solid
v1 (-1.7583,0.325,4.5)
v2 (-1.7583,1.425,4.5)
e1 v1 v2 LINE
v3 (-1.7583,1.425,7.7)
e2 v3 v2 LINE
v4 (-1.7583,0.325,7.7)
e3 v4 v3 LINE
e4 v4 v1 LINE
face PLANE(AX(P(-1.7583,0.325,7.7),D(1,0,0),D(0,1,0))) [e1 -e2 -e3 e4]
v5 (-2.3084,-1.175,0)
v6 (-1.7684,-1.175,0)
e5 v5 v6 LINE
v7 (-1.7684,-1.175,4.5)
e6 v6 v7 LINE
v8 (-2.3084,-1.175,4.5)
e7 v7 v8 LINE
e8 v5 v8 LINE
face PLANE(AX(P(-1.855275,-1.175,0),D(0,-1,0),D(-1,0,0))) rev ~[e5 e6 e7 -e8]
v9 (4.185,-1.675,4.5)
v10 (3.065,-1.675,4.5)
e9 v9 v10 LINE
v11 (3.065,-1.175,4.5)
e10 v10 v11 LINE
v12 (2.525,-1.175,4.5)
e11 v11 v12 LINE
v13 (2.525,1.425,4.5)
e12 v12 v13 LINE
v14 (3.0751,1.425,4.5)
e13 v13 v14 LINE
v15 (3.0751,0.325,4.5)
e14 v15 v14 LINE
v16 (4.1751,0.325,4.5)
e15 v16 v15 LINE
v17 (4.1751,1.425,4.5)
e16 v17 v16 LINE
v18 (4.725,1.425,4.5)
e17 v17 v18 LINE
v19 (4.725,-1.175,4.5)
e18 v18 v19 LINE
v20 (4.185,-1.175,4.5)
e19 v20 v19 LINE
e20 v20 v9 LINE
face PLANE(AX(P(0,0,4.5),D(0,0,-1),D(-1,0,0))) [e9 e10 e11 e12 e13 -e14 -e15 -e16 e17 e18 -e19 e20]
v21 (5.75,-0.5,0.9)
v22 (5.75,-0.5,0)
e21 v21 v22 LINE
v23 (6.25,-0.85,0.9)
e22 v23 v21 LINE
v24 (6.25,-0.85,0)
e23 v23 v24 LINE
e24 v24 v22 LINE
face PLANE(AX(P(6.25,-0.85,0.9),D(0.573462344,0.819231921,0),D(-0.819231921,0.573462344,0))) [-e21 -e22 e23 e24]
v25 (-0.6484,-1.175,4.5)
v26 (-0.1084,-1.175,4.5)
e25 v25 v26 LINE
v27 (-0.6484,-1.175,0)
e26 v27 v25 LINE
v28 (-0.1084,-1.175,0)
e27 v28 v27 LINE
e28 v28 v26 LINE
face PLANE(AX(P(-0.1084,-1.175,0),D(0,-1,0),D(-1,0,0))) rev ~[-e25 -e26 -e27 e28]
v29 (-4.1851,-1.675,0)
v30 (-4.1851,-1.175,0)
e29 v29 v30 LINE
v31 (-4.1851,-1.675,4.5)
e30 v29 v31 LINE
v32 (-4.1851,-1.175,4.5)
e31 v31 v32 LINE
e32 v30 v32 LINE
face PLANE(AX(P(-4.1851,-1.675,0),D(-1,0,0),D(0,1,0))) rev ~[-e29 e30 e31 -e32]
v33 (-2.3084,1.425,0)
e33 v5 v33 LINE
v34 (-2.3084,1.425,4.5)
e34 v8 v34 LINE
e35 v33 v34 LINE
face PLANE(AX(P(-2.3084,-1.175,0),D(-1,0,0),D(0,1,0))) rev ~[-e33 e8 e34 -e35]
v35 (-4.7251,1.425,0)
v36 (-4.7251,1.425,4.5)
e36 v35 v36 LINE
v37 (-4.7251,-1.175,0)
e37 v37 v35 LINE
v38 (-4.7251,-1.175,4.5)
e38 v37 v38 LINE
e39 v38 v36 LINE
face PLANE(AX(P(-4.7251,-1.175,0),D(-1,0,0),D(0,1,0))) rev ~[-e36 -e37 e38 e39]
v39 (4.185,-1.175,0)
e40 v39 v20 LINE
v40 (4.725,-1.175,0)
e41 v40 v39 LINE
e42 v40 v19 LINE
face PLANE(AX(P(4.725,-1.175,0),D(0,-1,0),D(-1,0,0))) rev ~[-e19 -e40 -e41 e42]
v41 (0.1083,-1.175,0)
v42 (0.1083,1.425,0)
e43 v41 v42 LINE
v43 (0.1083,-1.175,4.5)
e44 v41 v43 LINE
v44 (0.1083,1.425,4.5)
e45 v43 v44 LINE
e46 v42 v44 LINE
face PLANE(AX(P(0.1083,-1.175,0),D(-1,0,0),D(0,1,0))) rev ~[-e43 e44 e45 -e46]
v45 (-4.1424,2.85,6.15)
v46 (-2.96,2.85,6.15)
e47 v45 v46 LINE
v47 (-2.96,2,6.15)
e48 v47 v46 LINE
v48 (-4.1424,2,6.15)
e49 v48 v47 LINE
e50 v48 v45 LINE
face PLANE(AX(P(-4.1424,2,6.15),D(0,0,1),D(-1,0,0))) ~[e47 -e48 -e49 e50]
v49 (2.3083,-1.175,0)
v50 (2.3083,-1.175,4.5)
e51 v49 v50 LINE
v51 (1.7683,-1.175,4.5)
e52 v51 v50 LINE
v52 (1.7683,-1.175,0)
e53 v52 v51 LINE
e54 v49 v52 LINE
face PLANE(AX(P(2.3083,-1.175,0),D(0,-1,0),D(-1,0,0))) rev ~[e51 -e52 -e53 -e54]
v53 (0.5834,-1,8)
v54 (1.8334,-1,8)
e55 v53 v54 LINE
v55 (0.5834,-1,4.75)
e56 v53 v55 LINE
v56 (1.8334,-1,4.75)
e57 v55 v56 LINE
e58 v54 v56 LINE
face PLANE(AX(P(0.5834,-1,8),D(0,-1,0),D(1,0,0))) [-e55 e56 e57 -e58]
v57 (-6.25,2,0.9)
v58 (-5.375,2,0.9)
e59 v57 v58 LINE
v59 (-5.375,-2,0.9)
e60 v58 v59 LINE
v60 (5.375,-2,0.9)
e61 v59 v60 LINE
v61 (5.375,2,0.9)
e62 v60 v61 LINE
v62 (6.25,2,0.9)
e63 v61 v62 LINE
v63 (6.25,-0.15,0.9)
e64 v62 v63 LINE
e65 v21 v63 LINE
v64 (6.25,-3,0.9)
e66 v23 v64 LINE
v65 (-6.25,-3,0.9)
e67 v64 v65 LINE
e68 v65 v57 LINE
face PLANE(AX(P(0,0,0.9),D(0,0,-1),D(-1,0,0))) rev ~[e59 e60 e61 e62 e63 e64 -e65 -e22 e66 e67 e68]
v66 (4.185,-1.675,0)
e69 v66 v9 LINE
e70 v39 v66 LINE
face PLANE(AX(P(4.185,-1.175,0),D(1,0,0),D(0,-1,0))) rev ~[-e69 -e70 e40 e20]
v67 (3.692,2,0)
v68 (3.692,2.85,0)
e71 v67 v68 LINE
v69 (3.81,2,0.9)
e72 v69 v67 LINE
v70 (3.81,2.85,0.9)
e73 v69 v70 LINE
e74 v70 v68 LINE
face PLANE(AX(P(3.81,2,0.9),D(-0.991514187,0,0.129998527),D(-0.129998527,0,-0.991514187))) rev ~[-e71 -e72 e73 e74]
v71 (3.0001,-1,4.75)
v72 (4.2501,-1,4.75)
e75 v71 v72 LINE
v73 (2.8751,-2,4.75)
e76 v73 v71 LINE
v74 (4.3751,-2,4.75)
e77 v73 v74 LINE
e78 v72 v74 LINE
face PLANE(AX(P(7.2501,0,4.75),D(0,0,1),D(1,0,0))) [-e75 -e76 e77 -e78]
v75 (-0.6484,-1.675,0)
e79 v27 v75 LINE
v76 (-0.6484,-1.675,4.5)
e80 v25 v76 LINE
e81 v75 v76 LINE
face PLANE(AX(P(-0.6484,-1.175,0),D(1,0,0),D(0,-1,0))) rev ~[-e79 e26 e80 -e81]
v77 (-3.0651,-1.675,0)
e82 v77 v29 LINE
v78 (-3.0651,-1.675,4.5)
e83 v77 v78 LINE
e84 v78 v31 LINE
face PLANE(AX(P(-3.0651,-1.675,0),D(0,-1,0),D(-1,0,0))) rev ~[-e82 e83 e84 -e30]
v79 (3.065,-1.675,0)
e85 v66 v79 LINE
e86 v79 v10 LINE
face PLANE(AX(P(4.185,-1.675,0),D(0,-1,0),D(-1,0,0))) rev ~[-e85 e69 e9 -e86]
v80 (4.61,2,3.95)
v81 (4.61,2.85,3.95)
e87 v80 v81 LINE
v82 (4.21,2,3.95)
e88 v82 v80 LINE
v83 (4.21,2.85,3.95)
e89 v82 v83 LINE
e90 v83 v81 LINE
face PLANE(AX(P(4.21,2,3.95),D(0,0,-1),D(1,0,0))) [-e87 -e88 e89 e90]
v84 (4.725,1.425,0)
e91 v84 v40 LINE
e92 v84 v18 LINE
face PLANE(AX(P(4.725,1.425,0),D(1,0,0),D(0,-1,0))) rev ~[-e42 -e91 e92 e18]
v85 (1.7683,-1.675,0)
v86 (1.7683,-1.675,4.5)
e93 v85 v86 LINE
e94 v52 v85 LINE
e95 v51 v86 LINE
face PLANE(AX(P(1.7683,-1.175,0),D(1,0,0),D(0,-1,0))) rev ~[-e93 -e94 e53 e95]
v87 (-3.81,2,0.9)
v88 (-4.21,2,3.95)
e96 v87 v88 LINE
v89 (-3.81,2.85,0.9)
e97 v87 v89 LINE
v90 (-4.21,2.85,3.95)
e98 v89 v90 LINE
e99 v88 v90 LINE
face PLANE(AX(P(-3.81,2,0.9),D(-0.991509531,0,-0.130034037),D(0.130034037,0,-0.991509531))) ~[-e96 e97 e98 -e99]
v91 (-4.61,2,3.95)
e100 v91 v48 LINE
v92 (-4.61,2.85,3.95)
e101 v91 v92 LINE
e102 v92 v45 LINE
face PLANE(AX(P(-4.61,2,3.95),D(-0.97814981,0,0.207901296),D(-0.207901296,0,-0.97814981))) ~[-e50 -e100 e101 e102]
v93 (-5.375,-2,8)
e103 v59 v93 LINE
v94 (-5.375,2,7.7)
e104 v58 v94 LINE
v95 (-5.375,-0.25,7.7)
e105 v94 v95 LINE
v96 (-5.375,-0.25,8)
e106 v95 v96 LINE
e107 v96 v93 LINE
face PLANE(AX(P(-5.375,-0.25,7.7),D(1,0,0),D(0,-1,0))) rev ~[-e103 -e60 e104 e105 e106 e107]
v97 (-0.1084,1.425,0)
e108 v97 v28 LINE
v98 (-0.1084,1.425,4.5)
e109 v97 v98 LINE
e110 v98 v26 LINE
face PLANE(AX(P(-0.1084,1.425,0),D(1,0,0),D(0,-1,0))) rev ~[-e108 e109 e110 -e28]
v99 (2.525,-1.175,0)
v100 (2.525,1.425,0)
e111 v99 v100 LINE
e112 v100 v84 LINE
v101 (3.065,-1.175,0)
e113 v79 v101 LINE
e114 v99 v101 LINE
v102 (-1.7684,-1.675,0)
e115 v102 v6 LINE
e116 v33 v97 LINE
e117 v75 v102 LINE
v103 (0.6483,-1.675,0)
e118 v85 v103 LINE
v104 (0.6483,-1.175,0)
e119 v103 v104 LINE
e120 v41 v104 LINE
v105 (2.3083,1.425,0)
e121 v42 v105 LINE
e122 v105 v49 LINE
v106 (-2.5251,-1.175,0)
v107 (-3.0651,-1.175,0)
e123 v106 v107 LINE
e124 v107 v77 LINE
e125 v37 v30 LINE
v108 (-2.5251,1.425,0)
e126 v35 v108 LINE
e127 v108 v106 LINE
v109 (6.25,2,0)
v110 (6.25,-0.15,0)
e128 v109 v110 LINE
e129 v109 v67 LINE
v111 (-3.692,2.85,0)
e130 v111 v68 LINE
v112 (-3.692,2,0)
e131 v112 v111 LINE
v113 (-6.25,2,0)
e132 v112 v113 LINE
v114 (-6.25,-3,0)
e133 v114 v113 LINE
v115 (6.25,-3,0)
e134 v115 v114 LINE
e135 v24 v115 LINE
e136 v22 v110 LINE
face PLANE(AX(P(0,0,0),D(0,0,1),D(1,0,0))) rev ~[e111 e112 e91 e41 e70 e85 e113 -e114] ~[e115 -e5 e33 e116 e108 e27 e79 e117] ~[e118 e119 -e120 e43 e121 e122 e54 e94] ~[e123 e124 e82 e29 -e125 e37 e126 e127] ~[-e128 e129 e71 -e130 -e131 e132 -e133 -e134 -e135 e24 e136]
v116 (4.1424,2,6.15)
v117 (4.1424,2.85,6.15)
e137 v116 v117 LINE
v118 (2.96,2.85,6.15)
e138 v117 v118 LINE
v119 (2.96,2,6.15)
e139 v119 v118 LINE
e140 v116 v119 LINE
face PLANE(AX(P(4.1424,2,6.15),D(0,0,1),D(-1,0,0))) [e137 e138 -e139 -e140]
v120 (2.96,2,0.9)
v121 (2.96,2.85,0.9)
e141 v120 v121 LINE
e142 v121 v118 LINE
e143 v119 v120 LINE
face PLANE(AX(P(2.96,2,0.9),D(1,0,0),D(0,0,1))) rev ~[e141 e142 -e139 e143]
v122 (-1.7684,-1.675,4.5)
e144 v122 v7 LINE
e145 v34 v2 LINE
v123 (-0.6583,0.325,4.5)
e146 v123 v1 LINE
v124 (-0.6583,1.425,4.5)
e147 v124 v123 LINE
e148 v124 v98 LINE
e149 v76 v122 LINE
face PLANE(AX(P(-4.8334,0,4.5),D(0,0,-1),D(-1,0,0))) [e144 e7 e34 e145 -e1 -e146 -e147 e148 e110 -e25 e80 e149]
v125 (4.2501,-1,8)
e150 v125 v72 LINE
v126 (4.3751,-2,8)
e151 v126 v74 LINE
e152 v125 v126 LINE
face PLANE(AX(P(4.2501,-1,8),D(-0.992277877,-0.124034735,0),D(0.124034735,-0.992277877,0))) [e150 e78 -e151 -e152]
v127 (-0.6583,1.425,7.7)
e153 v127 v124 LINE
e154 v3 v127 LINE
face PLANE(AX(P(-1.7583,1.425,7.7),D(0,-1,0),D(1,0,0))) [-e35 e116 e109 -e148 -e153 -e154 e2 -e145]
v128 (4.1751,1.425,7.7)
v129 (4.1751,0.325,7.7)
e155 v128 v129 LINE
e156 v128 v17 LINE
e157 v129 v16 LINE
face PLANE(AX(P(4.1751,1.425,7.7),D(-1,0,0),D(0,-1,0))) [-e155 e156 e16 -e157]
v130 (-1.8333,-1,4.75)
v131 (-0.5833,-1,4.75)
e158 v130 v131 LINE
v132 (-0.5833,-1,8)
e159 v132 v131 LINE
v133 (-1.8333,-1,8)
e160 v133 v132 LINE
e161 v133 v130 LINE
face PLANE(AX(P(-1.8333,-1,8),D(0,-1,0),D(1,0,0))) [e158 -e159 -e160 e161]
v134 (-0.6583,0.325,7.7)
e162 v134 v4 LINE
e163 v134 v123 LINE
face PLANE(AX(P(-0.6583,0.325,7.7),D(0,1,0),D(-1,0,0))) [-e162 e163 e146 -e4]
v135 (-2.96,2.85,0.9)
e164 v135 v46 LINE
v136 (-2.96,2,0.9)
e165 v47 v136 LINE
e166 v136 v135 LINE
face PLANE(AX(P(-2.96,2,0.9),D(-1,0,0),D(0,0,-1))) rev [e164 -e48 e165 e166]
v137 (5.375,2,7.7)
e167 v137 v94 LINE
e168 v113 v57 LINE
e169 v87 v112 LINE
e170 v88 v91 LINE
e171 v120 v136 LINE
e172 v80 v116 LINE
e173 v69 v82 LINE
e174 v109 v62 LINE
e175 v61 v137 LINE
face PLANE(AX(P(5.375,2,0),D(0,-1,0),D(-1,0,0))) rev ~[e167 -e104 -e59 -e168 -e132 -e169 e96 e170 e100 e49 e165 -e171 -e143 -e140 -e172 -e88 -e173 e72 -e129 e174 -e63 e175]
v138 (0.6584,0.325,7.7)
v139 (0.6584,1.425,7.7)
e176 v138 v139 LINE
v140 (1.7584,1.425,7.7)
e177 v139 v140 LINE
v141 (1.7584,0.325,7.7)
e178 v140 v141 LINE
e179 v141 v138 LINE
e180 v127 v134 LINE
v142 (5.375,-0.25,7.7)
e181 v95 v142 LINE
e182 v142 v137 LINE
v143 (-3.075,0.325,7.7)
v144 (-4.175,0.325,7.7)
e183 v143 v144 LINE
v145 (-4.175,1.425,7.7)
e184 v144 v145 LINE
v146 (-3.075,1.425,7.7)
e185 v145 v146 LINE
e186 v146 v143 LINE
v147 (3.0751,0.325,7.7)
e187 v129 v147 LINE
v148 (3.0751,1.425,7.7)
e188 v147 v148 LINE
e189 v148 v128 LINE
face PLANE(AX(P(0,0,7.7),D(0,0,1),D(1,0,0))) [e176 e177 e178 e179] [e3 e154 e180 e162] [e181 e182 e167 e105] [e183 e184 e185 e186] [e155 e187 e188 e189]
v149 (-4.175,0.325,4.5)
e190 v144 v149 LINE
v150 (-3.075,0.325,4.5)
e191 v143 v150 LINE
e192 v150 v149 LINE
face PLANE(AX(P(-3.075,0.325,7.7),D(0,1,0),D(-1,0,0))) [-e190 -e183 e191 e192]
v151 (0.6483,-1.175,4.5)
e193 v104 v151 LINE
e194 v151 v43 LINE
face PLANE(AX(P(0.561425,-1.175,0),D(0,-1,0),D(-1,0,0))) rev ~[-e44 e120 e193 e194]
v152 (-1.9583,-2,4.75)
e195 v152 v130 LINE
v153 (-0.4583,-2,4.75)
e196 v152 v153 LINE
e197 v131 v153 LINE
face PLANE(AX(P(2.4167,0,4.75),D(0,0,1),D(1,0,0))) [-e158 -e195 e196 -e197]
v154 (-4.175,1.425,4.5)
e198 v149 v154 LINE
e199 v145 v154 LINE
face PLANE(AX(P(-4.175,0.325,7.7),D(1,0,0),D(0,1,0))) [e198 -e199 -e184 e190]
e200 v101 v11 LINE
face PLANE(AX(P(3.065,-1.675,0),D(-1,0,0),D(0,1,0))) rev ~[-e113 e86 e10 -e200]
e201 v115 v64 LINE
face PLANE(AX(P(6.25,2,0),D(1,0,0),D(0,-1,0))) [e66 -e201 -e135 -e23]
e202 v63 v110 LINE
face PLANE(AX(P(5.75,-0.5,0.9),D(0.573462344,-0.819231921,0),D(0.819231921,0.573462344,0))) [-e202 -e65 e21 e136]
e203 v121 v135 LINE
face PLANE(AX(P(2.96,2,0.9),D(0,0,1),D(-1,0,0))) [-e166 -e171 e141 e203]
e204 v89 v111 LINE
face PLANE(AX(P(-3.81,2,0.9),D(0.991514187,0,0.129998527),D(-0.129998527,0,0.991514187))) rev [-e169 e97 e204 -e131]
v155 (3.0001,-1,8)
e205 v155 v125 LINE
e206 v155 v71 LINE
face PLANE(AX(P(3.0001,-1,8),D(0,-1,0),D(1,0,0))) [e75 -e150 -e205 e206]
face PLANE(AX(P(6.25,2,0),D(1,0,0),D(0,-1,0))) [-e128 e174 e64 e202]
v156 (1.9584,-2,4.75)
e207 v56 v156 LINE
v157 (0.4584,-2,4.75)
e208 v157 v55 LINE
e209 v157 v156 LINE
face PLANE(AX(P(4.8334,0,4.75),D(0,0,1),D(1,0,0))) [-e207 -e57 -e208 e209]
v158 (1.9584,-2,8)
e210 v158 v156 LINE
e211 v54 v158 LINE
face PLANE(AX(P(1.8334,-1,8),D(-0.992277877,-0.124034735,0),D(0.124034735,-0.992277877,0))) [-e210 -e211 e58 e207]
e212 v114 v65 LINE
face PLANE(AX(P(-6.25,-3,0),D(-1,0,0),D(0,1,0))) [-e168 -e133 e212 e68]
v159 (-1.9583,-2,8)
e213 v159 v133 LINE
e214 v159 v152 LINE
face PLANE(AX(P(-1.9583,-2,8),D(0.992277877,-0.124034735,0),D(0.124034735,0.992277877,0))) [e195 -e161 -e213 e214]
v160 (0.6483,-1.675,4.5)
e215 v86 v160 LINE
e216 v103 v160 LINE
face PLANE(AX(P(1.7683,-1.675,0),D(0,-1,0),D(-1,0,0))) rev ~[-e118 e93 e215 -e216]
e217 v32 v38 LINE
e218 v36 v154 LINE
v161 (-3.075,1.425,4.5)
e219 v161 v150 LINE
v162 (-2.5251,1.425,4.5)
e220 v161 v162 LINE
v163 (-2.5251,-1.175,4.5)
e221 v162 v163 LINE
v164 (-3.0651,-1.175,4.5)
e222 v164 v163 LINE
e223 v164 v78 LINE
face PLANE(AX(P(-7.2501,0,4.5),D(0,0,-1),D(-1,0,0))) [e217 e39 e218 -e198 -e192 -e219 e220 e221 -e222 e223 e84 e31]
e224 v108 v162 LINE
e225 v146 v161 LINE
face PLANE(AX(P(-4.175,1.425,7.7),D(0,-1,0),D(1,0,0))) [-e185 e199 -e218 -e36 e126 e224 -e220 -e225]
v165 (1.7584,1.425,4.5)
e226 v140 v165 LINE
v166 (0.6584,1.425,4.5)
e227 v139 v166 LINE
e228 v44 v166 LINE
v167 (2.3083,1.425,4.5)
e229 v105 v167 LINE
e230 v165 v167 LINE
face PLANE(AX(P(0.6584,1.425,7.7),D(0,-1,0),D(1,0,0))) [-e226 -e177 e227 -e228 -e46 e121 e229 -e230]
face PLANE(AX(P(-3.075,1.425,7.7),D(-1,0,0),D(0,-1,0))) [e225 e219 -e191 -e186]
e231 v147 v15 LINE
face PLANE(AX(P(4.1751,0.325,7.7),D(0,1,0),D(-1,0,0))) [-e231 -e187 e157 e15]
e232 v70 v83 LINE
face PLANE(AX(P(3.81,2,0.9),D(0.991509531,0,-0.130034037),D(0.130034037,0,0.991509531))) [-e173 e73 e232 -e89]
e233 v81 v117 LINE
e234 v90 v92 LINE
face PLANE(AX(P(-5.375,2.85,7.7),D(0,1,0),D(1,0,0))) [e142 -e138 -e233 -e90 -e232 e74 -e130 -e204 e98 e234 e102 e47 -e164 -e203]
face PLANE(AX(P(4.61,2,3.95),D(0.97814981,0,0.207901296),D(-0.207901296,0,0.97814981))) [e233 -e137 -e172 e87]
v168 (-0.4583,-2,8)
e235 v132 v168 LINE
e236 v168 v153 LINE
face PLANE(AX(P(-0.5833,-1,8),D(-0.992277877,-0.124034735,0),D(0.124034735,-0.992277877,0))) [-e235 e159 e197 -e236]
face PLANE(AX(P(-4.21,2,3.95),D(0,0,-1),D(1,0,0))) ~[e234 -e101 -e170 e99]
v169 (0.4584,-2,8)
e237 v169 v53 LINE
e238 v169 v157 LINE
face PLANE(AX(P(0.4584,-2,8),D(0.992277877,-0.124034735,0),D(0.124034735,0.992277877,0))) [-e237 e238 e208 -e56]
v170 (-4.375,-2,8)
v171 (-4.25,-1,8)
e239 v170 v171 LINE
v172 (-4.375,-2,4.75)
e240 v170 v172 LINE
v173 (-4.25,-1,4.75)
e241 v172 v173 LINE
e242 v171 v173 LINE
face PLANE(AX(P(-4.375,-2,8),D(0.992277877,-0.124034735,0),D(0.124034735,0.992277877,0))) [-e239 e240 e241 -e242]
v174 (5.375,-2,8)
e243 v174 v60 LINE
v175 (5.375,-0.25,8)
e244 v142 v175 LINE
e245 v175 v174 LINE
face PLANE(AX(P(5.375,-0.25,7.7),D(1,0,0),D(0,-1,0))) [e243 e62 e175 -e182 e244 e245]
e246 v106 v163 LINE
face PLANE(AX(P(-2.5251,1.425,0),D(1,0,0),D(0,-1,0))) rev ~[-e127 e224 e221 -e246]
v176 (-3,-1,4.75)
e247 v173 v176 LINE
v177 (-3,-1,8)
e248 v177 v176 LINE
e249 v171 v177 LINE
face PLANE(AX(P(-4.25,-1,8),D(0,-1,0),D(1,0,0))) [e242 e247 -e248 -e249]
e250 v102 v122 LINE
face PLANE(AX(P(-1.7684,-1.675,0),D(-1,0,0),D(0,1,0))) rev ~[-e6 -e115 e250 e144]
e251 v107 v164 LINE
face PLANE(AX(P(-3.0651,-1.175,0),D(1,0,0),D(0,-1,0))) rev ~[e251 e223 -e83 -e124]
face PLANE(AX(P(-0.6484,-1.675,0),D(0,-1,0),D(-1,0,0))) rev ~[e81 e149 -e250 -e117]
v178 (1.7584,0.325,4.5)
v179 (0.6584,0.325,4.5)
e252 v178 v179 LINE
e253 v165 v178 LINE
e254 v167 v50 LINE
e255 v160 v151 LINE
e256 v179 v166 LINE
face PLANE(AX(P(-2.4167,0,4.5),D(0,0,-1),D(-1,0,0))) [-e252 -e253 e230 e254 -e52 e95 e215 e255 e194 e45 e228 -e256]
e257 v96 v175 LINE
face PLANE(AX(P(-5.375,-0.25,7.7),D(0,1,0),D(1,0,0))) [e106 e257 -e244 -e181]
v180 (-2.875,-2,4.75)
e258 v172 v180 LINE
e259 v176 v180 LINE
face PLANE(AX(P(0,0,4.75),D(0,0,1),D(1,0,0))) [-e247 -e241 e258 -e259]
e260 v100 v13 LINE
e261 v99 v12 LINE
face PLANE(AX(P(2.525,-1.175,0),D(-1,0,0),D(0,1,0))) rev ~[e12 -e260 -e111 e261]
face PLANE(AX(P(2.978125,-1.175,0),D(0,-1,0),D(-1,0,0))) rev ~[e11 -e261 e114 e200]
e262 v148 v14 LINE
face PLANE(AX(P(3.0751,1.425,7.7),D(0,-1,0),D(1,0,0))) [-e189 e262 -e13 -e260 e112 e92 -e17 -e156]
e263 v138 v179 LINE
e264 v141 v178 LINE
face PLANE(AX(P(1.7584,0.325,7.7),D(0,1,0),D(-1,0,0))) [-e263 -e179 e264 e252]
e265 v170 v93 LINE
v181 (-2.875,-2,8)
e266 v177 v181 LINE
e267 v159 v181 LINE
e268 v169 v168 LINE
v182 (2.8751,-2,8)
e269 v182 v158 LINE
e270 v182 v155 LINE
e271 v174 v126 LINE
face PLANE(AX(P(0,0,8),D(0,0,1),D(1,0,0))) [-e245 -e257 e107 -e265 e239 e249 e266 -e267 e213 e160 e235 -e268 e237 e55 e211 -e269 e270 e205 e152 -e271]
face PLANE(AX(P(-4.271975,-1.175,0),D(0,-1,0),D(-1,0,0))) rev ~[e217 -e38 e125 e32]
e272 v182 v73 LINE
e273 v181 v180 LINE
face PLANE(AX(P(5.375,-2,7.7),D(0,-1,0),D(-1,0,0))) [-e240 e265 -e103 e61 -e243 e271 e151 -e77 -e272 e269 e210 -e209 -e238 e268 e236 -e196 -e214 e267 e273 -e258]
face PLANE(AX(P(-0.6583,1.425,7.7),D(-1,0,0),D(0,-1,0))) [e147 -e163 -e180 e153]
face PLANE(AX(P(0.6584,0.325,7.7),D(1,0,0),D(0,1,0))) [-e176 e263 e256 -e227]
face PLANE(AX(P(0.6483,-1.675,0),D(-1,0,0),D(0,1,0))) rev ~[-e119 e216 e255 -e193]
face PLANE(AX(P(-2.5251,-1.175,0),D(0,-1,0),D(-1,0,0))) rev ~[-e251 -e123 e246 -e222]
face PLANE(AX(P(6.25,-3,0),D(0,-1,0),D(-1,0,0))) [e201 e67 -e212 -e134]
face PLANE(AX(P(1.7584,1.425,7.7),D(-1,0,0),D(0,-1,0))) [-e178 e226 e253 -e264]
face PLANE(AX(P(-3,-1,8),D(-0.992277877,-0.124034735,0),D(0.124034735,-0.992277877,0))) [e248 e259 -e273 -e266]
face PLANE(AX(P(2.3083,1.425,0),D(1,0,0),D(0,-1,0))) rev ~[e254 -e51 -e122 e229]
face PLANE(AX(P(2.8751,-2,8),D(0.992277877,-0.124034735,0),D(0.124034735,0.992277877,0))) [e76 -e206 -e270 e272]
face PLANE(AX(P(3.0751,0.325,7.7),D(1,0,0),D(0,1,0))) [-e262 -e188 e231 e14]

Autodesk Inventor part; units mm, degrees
ref_plane "YZ Plane" through (0, 0, 0) normal (1, 0, 0) x (0, 1, 0)
ref_plane "XZ Plane" through (0, 0, 0) normal (0, 1, 0) x (-1, 0, 0)
ref_plane "XY Plane" through (0, 0, 0) normal (0, 0, 1) x (1, 0, 0)
sketch "Sketch1" plane through (0, 0, 0) normal (0, 0, 1) x (1, 0, 0)
  line L0 (-5.375, -2) -> (5.375, -2)
  line L1 (5.375, -2) -> (5.375, 2)
  line L2 (5.375, 2) -> (-5.375, 2)
  line L3 (-5.375, 2) -> (-5.375, -2)
  line L4 (-5.375, -2) -> (5.375, 2) construction
  line L5 (5.375, -2) -> (-5.375, 2) construction
  point P0 (0, 0)
  dimension "d0" = 10.75
  dimension "d1" = 4
extrude "Extrusion1" add sketch "Sketch1" along normal blind 7.7
sketch "Sketch2" plane through (0, 0, 0) normal (0, 0, -1) x (-1, 0, 0)
  line L0 (5.375, -2) -> (-5.375, -2) projected
  line L1 (5.375, 2) -> (5.375, -2) projected
  line L2 (-5.375, 2) -> (5.375, 2) projected
  line L3 (-5.375, -2) -> (-5.375, 2) projected
  line L4 (6.25, 2) -> (-6.25, 2)
  line L5 (-6.25, 2) -> (-6.25, -3)
  line L6 (-6.25, -3) -> (6.25, -3)
  line L7 (6.25, -3) -> (6.25, 2)
  point P0 (0, 0)
  dimension "d4" = 0.875
  dimension "d6" = 0.875
  dimension "d7" = 1
extrude "Extrusion2" add sketch "Sketch2" against normal blind 0.9 contours L1 L4 L7 L6 L5 L3 L0
sketch "Sketch3" plane through (0, 0, 7.7) normal (0, 0, 1) x (1, 0, 0)
  line L0 (-5.375, 2) -> (-5.375, -2) projected
  line L1 (5.375, -2) -> (-5.375, -2)
  line L2 (-5.375, -2) -> (-5.375, -0.25)
  line L3 (-5.375, -0.25) -> (5.375, -0.25)
  line L4 (5.375, -0.25) -> (5.375, -2)
  point P0 (0, 0)
  dimension "d10" = 1.75
extrude "Extrusion3" add sketch "Sketch3" along normal blind 0.3
sketch "Sketch4" plane through (0, 0, 8) normal (0, 0, 1) x (1, 0, 0)
  line L0 (-5.375, -2) -> (5.375, -2) projected
  line L1 (-4.375, -2) -> (-4.25, -1)
  line L2 (-4.25, -1) -> (-3, -1)
  line L3 (-3, -1) -> (-2.875, -2)
  point P0 (0, 0)
  dimension "d13" = 1
  dimension "d14" = 1
  dimension "d15" = 1.5
  dimension "d16" = 1.25
extrude "Extrusion4" cut sketch "Sketch4" against normal blind 3.25
pattern_linear "Rectangular Pattern1" count 4 spacing 2.4167 along (1, 0, 0) of "Extrusion4"
sketch "Sketch5" plane through (0, 0, 7.7) normal (0, 0, 1) x (1, 0, 0)
  line L0 (-5.375, 2) -> (-5.375, -0.25) projected
  line L1 (-3.075, 0.325) -> (-4.175, 0.325)
  line L2 (-4.175, 0.325) -> (-4.175, 1.425)
  line L3 (-4.175, 1.425) -> (-3.075, 1.425)
  line L4 (-3.075, 1.425) -> (-3.075, 0.325)
  line L5 (-3.075, 0.325) -> (-4.175, 1.425) construction
  line L6 (-4.175, 0.325) -> (-3.075, 1.425) construction
  line L7 (-4.25, -1) -> (-3, -1) projected
  point P0 (0, 0)
  point P1 (-3.625, 0.875)
  point P2 (-3.625, 0.875)
  point P3 (-5.375, 0.875)
  point P4 (-3.625, -1)
  point P5 (-3.625, 0.875)
  dimension "d23" = 1.1
extrude "Extrusion5" cut sketch "Sketch5" against normal through all
pattern_linear "Rectangular Pattern2" count 4 spacing 2.4167 along (1, 0, 0) of "Extrusion5"
sketch "Sketch6" plane through (0, 0, 0) normal (0, 0, -1) x (-1, 0, 0)
  line L0 (-2.525, -1.175) -> (-2.525, 1.425)
  line L1 (-2.525, 1.425) -> (-4.725, 1.425)
  line L2 (-4.725, 1.425) -> (-4.725, -1.175)
  line L3 (-4.185, -1.175) -> (-4.185, -1.675)
  line L4 (-4.185, -1.675) -> (-3.065, -1.675)
  line L5 (-3.065, -1.675) -> (-3.065, -1.175)
  line L6 (-4.725, -1.175) -> (-4.185, -1.175)
  line L7 (-3.065, -1.175) -> (-2.525, -1.175)
  line L8 (-4.375, -2) -> (-2.875, -2) projected
  line L9 (-4.25, -1) -> (-4.375, -2) projected
  line L10 (-3, -1) -> (-4.25, -1) projected
  line L11 (-2.875, -2) -> (-3, -1) projected
  line L12 (-1.9583, -2) -> (-0.4583, -2) projected
  line L13 (-1.8333, -1) -> (-1.9583, -2) projected
  line L14 (-0.5833, -1) -> (-1.8333, -1) projected
  line L15 (-0.4583, -2) -> (-0.5833, -1) projected
  point P0 (-3.625, 1.425)
  point P1 (-3.625, -1.675)
  point P2 (-3.625, -1)
  point P3 (-1.2083, -1)
  point P4 (-4.175, 1.425)
  dimension "d31" = 2.2
  dimension "d34" = 1.12
  dimension "d37" = 0.5
  dimension "d38" = 2.6
  dimension "d56" = 2.4167
sketch "Sketch7" plane through (-5.375, 2, 7.7) normal (0, 1, 0) x (1, 0, 0)
  line L0 (-0.875, 7.7) -> (11.625, 7.7) projected
  line L1 (10.75, 0) -> (0, 0) projected
  line L2 (10.75, 6.8) -> (10.75, 0) projected
  line L3 (8.335, 6.8) -> (9.185, 6.8)
  line L4 (8.335, 3.75) -> (9.985, 3.75)
  line L5 (9.985, 3.75) -> (9.5174, 1.55)
  line L6 (9.5174, 1.55) -> (8.335, 1.55)
  line L7 (8.335, 6.8) -> (8.335, 1.55)
  line L8 (9.185, 6.8) -> (9.585, 3.75)
  line L9 (5.375, 7.7) -> (5.375, 0)
  line L10 (9.185, 6.8) -> (9.067, 7.7)
  line L11 (5.375, 7.7) -> (9.067, 7.7)
  line L12 (8.335, 6.8) -> (5.375, 6.8)
  point P0 (5.375, 7.7)
  dimension "d41" = 0.85
  dimension "d45" = 1.25
  dimension "d46" = 6.15
  dimension "d48" = 2.2
  dimension "d49" = 12
  dimension "d50" = 0.4
  dimension "d52" = 5.92
  dimension "d53" = 0.9
extrude "Extrusion6" add sketch "Sketch7" along normal blind 0.85
mirror "Mirror1" about plane through (0, 0, 0) normal (1, 0, 0) of "Extrusion6"
extrude "Extrusion7" cut sketch "Sketch6" against normal blind 4.5 contours L7 L11 L10 L9 L6 L2 L1 L0 | L7 L5 L4 L3 L6 L9 L10 L11
pattern_linear "Rectangular Pattern3" count 4 spacing 2.4167 along (-1, 0, 0) of "Extrusion7"
sketch "Sketch8" plane through (0, 0, 0.9) normal (0, 0, 1) x (1, 0, 0)
  line L0 (6.25, -3) -> (6.25, 2) projected
  line L1 (6.25, -0.85) -> (6.25, -0.15)
  line L2 (6.25, -0.85) -> (5.75, -0.5)
  line L3 (5.75, -0.5) -> (6.25, -0.15)
  point P0 (0, 0)
  point P1 (6.25, -0.5)
  point P2 (6.25, -0.5)
  dimension "d63" = 0.7
  dimension "d64" = 0.5
extrude "Extrusion8" cut sketch "Sketch8" against normal through all
equation "\"d29\" = d21"
equation "\"d61\" = d21"
equation "\"d21\" = 2.416667"
properties part number "3S Female JST XH 4 Pin" material "PBT Plastic"
